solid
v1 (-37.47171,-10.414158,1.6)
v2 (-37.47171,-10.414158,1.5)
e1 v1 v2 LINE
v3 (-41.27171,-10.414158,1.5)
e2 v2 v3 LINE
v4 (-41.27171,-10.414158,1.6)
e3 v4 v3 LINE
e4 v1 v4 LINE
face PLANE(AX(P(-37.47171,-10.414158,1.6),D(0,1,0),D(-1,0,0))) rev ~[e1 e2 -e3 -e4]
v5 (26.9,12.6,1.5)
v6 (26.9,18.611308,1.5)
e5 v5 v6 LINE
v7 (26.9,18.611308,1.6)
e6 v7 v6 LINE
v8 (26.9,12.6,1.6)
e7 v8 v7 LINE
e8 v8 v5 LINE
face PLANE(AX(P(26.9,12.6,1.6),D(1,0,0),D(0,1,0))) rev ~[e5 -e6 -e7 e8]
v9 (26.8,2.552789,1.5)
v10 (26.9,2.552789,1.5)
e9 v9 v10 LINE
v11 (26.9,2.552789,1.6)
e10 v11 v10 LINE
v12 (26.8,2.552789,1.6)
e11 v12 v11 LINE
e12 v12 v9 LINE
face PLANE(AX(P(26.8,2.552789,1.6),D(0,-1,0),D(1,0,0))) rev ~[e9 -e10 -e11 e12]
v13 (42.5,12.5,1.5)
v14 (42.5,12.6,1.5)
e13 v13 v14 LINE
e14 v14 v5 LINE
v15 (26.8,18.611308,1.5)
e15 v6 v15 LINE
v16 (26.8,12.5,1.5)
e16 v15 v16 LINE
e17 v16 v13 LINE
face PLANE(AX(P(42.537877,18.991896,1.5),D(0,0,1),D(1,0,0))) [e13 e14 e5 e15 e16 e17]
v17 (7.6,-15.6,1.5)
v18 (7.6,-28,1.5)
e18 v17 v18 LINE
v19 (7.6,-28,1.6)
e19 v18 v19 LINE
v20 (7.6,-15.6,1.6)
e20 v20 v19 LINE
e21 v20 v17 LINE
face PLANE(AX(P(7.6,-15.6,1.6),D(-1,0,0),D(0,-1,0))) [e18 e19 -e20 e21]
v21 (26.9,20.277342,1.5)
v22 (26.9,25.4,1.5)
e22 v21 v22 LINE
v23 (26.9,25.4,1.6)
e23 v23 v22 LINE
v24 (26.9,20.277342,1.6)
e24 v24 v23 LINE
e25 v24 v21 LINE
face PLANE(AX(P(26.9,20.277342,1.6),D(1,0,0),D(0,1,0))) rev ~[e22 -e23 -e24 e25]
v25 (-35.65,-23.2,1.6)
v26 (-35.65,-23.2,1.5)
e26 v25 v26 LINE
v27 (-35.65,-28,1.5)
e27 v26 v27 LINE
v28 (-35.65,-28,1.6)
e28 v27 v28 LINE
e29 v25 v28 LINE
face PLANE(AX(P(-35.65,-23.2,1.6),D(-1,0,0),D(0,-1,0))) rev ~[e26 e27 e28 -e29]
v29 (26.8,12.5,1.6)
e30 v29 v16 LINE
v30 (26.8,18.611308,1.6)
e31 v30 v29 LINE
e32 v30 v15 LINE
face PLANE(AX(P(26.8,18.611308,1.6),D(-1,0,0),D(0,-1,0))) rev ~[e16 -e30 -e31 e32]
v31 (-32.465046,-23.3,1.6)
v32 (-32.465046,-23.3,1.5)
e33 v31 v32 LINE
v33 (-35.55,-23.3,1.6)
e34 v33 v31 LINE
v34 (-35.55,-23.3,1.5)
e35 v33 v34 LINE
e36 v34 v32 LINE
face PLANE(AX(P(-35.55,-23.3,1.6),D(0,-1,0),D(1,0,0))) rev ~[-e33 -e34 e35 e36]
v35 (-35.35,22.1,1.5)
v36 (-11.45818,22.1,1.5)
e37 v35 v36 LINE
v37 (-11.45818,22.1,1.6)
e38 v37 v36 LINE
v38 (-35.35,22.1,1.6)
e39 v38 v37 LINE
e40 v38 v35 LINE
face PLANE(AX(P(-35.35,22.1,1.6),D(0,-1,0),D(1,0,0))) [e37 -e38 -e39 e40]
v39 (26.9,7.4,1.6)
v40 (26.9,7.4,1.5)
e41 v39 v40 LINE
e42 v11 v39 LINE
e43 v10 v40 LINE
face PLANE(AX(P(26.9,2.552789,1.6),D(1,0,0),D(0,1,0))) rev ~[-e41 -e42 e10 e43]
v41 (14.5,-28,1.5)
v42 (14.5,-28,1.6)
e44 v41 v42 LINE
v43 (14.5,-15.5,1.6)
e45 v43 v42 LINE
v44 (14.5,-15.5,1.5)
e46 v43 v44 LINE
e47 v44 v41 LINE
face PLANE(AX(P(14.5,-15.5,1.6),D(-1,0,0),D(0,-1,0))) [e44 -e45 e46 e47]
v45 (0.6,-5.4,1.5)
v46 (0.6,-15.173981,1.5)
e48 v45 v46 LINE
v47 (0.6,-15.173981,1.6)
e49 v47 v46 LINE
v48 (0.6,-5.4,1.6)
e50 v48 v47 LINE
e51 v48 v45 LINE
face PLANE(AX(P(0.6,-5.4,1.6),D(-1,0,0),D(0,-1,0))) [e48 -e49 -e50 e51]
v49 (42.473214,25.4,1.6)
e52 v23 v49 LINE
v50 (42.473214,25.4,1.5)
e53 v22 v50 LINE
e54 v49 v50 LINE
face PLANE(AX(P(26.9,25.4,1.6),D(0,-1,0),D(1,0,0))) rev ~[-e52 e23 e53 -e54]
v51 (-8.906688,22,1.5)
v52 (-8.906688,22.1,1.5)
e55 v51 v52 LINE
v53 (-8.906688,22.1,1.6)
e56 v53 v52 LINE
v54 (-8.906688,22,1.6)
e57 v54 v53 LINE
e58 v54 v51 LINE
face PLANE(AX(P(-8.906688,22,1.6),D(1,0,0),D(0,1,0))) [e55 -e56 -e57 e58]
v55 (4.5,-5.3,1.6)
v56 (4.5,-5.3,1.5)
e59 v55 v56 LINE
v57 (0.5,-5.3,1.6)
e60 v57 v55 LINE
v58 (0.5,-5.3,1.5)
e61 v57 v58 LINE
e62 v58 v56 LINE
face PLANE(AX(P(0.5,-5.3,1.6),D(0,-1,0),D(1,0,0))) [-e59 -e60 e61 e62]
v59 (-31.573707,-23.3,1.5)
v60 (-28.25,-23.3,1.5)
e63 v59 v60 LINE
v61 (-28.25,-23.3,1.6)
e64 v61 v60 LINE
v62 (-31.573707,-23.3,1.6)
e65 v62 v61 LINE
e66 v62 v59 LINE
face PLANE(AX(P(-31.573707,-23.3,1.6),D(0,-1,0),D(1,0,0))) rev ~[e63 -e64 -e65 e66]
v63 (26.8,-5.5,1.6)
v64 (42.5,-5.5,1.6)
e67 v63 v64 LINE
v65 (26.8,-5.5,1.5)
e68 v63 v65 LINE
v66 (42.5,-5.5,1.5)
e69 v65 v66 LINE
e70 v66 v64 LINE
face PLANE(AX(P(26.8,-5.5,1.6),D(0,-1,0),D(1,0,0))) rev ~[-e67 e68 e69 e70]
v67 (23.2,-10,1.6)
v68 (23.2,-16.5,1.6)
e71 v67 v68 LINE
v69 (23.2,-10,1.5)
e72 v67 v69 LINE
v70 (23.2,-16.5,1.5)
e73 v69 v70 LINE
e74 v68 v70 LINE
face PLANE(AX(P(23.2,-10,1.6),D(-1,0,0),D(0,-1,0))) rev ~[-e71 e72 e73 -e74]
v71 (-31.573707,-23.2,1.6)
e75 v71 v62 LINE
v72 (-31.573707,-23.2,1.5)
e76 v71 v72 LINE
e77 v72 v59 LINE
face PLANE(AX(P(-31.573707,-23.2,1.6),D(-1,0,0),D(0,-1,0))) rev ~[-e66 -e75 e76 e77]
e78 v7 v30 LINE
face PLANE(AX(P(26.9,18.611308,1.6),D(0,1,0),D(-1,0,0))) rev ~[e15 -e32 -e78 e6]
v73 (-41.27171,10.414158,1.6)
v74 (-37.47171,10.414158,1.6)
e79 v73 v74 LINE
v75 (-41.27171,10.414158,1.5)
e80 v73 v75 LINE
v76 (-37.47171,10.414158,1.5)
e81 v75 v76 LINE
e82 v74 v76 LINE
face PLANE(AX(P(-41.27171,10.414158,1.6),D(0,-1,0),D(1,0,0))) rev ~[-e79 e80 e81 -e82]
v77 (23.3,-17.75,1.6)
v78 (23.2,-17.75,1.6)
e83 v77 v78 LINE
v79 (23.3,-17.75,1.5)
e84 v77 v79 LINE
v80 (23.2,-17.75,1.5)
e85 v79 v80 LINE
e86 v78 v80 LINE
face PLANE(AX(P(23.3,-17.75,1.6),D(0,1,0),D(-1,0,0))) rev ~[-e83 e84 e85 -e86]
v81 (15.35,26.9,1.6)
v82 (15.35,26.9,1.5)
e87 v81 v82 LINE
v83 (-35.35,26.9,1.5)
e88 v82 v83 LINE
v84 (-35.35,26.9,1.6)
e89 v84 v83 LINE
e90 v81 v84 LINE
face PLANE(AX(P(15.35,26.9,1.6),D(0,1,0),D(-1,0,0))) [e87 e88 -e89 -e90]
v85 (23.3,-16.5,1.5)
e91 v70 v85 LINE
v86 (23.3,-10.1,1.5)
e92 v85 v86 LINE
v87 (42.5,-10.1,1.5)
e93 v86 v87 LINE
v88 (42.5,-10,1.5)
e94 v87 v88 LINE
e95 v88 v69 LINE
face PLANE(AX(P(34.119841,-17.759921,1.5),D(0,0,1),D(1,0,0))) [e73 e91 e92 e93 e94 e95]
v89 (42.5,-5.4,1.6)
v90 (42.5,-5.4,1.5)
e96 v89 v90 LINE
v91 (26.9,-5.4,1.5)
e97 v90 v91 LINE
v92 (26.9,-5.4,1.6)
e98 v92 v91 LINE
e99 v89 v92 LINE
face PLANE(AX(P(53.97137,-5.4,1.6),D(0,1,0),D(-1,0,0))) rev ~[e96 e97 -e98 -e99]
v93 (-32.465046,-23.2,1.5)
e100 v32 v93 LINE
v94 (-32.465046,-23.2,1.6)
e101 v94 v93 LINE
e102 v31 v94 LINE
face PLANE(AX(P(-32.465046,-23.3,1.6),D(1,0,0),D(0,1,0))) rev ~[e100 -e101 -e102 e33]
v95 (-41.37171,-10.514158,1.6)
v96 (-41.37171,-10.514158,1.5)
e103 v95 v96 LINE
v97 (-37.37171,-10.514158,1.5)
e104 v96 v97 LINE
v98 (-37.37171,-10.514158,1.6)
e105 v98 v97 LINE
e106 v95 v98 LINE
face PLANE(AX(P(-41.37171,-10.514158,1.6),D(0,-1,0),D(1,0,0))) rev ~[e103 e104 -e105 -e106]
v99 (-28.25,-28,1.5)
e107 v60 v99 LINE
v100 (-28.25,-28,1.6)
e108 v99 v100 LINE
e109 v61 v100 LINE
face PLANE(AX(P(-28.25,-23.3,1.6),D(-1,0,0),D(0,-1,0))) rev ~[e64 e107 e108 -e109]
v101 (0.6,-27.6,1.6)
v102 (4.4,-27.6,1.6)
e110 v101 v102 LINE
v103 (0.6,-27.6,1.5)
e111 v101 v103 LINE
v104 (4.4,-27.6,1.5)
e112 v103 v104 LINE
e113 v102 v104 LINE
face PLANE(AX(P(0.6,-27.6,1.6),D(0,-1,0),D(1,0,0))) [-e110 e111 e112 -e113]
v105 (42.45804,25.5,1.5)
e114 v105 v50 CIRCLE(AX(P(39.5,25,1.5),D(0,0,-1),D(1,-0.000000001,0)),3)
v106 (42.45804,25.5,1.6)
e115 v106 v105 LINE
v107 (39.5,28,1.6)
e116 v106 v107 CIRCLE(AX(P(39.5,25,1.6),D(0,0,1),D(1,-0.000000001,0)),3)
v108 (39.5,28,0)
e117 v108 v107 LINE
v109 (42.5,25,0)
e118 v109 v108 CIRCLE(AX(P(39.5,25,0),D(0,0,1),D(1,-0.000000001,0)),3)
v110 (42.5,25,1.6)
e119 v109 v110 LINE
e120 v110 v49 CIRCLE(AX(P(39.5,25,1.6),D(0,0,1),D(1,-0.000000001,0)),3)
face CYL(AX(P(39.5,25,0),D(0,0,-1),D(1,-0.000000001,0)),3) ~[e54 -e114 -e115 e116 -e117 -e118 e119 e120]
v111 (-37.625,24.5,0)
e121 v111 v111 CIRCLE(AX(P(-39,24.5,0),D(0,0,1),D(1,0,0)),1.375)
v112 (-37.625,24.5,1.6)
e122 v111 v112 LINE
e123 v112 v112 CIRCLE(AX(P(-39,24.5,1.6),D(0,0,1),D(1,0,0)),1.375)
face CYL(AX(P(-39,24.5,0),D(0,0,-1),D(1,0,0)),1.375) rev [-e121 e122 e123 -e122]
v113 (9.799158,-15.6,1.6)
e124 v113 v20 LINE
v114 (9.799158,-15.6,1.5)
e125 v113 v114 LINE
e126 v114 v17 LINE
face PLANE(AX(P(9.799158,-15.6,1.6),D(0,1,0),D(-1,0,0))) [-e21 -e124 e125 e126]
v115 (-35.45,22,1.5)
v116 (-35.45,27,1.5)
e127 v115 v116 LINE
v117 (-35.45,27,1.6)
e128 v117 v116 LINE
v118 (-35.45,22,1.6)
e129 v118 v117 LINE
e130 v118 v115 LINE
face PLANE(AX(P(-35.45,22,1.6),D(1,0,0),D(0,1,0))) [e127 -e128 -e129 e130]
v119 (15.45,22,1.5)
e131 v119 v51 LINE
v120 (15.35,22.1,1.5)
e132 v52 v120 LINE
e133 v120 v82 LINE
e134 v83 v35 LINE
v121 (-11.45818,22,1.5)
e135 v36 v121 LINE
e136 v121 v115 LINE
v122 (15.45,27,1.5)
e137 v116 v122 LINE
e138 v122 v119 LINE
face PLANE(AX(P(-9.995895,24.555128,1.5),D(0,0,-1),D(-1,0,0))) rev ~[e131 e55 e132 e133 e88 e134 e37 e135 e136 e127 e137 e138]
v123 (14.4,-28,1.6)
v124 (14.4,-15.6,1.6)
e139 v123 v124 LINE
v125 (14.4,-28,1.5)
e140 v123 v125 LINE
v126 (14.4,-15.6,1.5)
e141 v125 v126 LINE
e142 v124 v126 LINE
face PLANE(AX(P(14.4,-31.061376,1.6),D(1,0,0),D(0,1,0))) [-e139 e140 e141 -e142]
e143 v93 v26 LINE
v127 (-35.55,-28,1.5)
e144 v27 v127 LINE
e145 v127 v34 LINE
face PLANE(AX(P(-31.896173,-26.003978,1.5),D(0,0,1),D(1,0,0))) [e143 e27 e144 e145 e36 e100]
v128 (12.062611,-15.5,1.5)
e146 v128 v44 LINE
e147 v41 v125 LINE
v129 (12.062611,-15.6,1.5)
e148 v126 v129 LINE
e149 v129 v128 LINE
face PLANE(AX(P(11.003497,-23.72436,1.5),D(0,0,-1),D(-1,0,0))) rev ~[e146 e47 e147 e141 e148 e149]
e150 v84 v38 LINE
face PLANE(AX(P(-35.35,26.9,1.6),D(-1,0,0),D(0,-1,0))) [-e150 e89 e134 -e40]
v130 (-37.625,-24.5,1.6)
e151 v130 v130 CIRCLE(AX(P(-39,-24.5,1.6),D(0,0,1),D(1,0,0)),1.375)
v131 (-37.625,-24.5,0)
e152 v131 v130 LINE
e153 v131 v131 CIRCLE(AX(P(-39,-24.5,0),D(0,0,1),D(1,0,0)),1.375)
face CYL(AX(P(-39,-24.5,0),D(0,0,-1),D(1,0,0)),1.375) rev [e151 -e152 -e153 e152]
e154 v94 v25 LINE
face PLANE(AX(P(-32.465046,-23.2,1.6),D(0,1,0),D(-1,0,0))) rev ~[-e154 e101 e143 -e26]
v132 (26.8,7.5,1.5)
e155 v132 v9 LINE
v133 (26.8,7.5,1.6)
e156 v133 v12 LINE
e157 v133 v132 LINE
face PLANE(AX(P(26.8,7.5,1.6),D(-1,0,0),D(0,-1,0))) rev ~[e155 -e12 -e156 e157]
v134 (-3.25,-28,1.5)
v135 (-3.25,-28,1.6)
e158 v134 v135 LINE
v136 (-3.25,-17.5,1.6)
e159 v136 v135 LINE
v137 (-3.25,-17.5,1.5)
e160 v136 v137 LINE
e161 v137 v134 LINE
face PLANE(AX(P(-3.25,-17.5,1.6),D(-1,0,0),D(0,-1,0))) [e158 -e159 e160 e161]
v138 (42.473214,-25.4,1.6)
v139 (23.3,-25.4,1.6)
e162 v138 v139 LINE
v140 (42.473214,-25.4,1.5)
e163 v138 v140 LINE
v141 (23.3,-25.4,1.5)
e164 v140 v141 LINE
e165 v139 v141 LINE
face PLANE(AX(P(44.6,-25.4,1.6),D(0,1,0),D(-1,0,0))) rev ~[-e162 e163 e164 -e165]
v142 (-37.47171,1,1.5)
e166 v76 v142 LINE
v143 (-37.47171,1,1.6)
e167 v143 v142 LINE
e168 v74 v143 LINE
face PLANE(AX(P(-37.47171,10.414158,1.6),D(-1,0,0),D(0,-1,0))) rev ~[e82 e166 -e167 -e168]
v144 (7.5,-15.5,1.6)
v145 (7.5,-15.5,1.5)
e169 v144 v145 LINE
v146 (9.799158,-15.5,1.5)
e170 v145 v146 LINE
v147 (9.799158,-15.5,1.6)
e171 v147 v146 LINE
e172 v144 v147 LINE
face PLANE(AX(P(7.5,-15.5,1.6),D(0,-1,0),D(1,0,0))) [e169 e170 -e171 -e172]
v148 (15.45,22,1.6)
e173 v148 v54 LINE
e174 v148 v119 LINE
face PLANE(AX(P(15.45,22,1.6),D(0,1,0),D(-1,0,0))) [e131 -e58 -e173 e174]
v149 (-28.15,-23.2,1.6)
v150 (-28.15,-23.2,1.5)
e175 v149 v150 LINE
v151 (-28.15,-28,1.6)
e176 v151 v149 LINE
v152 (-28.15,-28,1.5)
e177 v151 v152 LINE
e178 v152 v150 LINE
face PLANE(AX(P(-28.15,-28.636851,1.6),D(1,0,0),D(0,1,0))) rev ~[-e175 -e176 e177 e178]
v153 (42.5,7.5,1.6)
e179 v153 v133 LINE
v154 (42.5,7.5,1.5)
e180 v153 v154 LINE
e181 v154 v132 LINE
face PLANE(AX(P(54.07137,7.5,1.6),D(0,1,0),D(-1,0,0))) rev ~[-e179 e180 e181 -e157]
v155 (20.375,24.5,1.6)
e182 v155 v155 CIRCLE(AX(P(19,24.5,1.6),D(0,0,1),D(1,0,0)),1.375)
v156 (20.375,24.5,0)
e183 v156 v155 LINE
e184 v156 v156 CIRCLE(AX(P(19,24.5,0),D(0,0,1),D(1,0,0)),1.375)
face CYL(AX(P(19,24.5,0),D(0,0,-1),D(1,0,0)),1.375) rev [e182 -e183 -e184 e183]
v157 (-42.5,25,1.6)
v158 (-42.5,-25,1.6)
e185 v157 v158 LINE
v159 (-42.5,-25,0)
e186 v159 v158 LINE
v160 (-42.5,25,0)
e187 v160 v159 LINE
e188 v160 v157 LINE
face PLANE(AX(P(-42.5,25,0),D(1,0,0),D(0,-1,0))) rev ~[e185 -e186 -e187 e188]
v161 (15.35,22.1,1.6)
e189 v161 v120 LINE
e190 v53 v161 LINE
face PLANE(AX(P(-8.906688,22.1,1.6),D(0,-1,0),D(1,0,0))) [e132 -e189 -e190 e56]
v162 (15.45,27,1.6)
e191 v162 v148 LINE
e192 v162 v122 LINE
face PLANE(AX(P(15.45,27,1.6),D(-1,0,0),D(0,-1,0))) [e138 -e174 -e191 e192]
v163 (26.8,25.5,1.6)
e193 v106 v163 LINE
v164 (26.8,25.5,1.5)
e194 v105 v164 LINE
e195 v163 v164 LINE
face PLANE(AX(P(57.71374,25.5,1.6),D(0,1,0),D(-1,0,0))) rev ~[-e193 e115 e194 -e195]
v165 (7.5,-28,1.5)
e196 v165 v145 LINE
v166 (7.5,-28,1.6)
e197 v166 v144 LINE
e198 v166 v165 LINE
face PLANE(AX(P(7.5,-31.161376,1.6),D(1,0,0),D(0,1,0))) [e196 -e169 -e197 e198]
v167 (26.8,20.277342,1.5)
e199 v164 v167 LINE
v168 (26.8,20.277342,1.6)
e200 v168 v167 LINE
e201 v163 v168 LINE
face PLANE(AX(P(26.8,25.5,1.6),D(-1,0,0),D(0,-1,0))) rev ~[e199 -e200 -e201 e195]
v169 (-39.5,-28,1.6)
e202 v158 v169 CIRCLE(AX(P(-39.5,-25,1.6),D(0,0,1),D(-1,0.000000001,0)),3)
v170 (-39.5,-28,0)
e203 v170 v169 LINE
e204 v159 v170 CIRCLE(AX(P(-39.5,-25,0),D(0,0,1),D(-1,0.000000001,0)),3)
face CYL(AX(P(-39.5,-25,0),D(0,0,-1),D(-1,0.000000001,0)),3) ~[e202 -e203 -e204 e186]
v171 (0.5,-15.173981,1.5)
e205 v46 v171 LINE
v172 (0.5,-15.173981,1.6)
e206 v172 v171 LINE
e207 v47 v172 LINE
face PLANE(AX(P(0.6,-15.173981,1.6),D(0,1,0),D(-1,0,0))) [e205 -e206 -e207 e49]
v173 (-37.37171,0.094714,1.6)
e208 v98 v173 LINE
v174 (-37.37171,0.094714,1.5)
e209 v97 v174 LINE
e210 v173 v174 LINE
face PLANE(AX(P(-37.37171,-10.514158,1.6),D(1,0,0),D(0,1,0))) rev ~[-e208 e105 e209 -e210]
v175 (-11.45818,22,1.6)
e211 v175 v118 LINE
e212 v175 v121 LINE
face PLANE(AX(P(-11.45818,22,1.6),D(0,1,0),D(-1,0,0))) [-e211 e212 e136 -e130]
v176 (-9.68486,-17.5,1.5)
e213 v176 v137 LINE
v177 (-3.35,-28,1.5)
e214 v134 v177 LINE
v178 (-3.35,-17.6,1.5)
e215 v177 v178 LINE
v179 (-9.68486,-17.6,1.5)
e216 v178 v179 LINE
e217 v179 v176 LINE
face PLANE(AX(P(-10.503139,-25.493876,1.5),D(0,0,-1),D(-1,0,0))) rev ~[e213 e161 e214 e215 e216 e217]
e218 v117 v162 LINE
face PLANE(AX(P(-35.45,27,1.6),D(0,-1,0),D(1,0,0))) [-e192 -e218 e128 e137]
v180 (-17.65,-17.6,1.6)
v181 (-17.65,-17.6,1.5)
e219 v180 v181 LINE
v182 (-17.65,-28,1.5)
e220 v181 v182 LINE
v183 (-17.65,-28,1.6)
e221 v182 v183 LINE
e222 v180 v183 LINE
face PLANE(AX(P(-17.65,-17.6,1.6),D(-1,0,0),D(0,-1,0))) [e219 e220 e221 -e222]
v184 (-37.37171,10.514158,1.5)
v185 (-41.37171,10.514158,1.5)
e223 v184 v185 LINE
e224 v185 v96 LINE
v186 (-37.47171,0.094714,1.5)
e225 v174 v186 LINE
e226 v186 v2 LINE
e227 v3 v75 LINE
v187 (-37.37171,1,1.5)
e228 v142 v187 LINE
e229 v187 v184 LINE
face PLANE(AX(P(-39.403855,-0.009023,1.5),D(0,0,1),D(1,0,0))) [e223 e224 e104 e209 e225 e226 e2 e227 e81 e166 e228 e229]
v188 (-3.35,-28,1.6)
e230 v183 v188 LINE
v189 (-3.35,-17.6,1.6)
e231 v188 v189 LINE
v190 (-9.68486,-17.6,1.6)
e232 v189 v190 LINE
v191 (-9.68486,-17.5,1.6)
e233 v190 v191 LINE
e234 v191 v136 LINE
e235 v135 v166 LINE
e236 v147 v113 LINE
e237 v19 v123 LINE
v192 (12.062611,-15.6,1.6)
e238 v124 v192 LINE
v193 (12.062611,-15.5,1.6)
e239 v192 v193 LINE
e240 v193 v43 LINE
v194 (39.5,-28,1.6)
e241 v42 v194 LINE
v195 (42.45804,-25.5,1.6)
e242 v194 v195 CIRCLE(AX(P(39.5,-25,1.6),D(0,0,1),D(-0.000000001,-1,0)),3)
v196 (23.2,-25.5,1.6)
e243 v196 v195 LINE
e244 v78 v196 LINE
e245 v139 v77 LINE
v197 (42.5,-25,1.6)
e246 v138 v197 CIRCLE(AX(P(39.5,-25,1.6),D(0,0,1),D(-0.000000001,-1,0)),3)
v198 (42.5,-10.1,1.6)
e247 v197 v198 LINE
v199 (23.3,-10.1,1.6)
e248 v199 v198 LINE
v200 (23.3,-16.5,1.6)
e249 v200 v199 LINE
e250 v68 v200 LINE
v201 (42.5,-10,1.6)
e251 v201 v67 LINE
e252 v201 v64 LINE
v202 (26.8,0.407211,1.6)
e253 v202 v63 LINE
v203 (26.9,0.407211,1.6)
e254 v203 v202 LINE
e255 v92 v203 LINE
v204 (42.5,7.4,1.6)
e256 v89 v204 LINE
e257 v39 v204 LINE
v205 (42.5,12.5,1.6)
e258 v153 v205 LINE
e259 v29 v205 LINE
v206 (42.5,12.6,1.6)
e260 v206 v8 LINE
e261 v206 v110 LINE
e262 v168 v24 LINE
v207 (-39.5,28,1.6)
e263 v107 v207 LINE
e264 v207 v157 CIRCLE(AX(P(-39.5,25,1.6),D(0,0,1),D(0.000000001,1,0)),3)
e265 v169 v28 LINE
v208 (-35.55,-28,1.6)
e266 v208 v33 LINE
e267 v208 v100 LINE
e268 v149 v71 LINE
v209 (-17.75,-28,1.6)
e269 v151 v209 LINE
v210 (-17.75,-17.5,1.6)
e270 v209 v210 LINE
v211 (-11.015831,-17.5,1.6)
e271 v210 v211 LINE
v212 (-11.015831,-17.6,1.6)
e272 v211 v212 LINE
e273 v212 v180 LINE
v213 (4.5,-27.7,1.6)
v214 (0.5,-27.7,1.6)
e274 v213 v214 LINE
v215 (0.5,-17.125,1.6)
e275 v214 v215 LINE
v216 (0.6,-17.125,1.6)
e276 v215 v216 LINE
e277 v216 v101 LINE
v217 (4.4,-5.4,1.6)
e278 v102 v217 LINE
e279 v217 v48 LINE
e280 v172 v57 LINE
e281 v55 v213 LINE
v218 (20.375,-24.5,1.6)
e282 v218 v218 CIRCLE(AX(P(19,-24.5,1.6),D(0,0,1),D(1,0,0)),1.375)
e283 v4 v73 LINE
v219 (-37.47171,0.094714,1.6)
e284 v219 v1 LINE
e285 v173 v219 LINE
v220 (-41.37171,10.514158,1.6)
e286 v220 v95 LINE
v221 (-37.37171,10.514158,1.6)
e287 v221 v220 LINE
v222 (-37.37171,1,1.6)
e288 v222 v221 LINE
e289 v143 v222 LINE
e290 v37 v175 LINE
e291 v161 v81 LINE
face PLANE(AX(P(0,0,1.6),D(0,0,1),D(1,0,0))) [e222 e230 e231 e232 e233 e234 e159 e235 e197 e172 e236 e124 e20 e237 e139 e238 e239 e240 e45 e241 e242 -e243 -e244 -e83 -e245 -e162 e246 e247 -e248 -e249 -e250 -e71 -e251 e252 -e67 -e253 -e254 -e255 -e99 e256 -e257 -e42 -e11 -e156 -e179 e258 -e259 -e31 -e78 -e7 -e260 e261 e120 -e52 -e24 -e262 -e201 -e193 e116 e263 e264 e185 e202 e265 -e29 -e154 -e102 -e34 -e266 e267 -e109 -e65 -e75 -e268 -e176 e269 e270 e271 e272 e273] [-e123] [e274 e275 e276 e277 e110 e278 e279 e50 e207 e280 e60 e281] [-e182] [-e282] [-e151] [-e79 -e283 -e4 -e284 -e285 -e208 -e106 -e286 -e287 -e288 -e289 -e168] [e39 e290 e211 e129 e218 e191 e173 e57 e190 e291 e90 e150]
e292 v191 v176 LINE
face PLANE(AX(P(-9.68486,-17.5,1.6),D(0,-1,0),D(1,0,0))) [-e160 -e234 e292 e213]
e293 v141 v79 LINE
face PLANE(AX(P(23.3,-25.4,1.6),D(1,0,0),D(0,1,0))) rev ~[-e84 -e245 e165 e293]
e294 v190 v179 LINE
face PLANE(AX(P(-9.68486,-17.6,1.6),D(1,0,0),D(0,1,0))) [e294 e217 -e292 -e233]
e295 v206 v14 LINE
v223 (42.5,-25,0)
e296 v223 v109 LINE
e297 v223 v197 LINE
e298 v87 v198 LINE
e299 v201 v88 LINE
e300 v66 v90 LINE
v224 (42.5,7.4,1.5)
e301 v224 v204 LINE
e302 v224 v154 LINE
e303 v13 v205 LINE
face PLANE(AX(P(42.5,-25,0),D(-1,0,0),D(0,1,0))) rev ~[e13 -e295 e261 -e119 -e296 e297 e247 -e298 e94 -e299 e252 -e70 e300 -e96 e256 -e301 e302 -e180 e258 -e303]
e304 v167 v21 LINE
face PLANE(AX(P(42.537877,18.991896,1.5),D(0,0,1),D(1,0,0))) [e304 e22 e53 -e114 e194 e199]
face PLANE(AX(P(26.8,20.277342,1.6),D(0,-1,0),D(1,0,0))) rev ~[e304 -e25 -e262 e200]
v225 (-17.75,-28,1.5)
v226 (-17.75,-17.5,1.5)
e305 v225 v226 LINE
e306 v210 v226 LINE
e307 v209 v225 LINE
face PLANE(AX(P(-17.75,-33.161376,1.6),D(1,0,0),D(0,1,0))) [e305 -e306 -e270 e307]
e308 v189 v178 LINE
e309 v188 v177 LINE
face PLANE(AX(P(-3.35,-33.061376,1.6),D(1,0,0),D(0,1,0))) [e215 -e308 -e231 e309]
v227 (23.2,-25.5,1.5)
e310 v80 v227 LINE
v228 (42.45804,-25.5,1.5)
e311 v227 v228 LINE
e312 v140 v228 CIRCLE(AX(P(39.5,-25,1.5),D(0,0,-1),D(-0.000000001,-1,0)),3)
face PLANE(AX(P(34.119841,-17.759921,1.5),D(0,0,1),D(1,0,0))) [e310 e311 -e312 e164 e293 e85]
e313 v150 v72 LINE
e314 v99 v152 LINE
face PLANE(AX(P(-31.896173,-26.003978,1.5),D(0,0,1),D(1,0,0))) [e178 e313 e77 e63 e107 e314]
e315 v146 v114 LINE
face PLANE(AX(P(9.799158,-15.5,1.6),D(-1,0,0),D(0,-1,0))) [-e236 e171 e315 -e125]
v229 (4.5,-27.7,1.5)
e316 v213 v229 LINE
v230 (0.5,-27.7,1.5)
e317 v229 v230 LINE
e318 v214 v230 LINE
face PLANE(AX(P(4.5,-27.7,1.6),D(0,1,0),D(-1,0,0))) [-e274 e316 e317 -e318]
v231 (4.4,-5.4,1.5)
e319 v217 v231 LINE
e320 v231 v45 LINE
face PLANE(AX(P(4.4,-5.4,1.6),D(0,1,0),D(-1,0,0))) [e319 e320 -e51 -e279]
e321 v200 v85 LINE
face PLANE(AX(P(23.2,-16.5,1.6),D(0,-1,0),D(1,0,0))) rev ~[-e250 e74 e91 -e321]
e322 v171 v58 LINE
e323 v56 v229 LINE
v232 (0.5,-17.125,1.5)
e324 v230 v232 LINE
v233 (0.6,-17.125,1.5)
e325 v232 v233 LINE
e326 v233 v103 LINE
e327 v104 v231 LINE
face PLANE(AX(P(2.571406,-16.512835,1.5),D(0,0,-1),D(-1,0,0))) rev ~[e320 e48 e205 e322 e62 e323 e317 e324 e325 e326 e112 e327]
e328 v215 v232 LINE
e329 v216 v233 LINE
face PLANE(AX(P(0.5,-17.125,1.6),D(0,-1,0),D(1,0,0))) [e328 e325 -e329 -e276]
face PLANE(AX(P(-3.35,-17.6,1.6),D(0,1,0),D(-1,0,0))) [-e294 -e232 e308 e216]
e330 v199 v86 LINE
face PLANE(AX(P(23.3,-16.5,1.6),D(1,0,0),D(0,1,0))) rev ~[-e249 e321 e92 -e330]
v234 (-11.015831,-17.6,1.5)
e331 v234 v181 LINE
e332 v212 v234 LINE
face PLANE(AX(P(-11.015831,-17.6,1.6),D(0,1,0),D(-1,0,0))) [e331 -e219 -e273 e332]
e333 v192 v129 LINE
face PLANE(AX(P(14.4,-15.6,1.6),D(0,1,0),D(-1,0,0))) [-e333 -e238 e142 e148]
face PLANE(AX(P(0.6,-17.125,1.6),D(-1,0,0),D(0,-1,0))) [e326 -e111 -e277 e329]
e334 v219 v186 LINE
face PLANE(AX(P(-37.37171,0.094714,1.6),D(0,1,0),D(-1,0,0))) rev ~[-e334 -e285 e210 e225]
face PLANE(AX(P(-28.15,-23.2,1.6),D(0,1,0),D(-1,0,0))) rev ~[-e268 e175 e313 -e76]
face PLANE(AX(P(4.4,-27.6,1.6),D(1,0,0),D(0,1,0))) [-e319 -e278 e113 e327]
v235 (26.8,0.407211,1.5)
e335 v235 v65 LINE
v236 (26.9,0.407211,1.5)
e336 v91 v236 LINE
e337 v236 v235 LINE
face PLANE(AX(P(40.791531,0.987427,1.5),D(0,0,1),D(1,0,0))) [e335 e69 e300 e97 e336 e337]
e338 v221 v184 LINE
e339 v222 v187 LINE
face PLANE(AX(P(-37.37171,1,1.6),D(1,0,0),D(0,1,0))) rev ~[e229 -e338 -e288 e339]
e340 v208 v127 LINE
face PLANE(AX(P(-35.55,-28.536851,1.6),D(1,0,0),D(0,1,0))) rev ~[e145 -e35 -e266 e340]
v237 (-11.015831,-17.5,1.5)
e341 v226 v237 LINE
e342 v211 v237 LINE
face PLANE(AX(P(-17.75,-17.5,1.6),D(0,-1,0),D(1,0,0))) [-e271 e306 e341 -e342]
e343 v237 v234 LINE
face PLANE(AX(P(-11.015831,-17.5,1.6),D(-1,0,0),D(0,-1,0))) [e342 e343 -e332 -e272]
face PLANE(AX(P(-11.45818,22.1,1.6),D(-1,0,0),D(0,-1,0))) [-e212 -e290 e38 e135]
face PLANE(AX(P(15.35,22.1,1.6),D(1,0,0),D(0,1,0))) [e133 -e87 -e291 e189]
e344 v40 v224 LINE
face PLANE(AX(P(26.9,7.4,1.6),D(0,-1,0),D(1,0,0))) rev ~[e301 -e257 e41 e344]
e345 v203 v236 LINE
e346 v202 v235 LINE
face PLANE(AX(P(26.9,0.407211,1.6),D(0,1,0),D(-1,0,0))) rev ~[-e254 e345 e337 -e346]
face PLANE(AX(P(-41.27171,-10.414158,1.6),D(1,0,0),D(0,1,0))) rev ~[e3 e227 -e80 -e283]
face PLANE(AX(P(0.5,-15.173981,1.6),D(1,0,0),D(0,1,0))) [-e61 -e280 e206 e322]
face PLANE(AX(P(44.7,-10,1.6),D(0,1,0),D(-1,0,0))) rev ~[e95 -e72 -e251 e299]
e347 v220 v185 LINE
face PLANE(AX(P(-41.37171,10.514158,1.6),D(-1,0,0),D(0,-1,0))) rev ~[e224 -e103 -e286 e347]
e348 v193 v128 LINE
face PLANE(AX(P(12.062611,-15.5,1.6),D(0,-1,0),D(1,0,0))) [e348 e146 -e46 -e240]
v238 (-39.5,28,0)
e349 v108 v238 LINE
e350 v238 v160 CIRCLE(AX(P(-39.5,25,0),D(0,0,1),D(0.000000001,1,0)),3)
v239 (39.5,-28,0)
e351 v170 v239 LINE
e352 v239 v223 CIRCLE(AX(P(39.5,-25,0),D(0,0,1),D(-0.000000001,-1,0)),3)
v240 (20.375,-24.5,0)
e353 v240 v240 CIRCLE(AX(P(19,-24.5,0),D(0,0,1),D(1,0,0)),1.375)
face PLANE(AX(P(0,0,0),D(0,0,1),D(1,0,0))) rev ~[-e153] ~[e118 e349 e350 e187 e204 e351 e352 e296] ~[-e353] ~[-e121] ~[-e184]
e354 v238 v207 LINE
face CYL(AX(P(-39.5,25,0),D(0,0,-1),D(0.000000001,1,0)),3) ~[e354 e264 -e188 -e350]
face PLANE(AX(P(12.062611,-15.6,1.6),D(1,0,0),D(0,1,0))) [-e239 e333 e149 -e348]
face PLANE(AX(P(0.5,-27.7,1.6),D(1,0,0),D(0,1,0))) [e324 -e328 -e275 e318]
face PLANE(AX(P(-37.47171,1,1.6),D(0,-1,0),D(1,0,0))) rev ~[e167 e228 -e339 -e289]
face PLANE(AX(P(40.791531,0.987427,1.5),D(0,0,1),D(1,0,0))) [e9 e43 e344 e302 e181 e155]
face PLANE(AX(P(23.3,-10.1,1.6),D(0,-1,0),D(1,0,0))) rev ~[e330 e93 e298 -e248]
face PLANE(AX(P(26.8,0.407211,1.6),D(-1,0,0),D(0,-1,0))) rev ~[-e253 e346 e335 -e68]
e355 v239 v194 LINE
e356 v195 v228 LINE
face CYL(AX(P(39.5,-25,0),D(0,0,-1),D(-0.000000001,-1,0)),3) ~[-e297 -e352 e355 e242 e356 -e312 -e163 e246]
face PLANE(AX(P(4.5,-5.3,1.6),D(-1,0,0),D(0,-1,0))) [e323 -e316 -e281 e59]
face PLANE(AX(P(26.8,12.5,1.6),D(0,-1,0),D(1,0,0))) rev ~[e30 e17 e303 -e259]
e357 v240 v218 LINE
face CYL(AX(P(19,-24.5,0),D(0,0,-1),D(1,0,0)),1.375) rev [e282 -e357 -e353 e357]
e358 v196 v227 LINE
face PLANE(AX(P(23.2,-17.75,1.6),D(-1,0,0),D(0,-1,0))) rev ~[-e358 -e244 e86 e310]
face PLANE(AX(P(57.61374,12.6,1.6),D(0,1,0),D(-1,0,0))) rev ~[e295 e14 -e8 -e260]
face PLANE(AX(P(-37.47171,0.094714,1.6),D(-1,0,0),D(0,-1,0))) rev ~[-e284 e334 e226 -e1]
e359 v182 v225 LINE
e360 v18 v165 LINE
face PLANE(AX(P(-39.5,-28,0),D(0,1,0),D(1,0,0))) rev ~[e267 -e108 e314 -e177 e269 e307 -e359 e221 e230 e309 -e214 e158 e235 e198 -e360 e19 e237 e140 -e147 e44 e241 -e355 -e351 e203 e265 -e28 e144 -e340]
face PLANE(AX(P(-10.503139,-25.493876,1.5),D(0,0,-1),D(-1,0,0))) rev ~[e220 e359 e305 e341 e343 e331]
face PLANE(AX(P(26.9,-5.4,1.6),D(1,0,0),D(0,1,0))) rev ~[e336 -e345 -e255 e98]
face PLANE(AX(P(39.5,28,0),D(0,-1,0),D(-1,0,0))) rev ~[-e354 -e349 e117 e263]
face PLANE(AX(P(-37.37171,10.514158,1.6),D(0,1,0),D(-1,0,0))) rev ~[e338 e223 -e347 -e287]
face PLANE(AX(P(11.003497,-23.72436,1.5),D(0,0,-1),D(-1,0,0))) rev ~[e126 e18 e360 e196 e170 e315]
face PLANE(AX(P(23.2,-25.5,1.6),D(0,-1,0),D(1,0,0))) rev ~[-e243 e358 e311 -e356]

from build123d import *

# Parameters (mm, degrees)
SKETCH1_R           = 1.375
BOSS_EXTRUDE1_DEPTH = 1.6
CUT_EXTRUDE1_DEPTH  = 0.1


with BuildPart() as part:
    # Sketch1 → Boss-Extrude1 (new body)
    with BuildSketch(Plane.XY):
        with BuildLine():
            Line((-39.5, -28), (39.5, -28))
            ThreePointArc((39.5, -28), (41.621320344, -27.121320344), (42.5, -25))
            Line((42.5, -25), (42.5, 25))
            ThreePointArc((42.5, 25), (41.621320344, 27.121320344), (39.5, 28))
            Line((39.5, 28), (-39.5, 28))
            ThreePointArc((-39.5, 28), (-41.621320344, 27.121320344), (-42.5, 25))
            Line((-42.5, 25), (-42.5, -25))
            ThreePointArc((-42.5, -25), (-41.621320344, -27.121320344), (-39.5, -28))
        make_face()
        with Locations((-39, 24.5)):
            Circle(SKETCH1_R, mode=Mode.SUBTRACT)
        with Locations((-39, -24.5)):
            Circle(SKETCH1_R, mode=Mode.SUBTRACT)
        with Locations((19, 24.5)):
            Circle(SKETCH1_R, mode=Mode.SUBTRACT)
        with Locations((19, -24.5)):
            Circle(SKETCH1_R, mode=Mode.SUBTRACT)
    extrude(amount=BOSS_EXTRUDE1_DEPTH)

    # Sketch2 → Cut-Extrude1 (cut)
    with BuildSketch(Plane.XY.offset(1.6)):
        Polygon((-35.65, -28.636850855), (-28.15, -28.636850855), (-28.15, -23.2), (-31.573707352, -23.2), (-31.573707352, -23.3), (-28.25, -23.3), (-28.25, -28.536850855), (-35.55, -28.536850855), (-35.55, -23.3), (-32.465045999, -23.3), (-32.465045999, -23.2), (-35.65, -23.2), align=None)
        Polygon((-17.75, -17.5), (-11.015830732, -17.5), (-11.015830732, -17.6), (-17.65, -17.6), (-17.65, -33.061376344), (-3.35, -33.061376344), (-3.35, -17.6), (-9.684859924, -17.6), (-9.684859924, -17.5), (-3.25, -17.5), (-3.25, -33.161376344), (-17.75, -33.161376344), align=None)
        Polygon((0.5, -5.3), (4.5, -5.3), (4.5, -27.7), (0.5, -27.7), (0.5, -17.125), (0.6, -17.125), (0.6, -27.6), (4.4, -27.6), (4.4, -5.4), (0.6, -5.4), (0.6, -15.17398131), (0.5, -15.17398131), align=None)
        Polygon((7.5, -15.5), (9.799158316, -15.5), (9.799158316, -15.6), (7.6, -15.6), (7.6, -31.061376344), (14.4, -31.061376344), (14.4, -15.6), (12.062610562, -15.6), (12.062610562, -15.5), (14.5, -15.5), (14.5, -31.161376344), (7.5, -31.161376344), align=None)
        Polygon((-35.45, 27), (15.45, 27), (15.45, 22), (-8.906687942, 22), (-8.906687942, 22.1), (15.35, 22.1), (15.35, 26.9), (-35.35, 26.9), (-35.35, 22.1), (-11.458179647, 22.1), (-11.458179647, 22), (-35.45, 22), align=None)
        Polygon((-41.371710411, -10.514157593), (-37.371710411, -10.514157593), (-37.371710411, 0.094714316), (-37.471710411, 0.094714316), (-37.471710411, -10.414157593), (-41.271710411, -10.414157593), (-41.271710411, 10.414157593), (-37.471710411, 10.414157593), (-37.471710411, 1), (-37.371710411, 1), (-37.371710411, 10.514157593), (-41.371710411, 10.514157593), align=None)
        Polygon((23.2, -25.5), (44.7, -25.5), (44.7, -10), (23.2, -10), (23.2, -16.5), (23.3, -16.5), (23.3, -10.1), (44.6, -10.1), (44.6, -25.4), (23.3, -25.4), (23.3, -17.75), (23.2, -17.75), align=None)
        Polygon((26.8, -5.5), (54.071370237, -5.5), (54.071370237, 7.5), (26.8, 7.5), (26.8, 2.552788505), (26.9, 2.552788505), (26.9, 7.4), (53.971370237, 7.4), (53.971370237, -5.4), (26.9, -5.4), (26.9, 0.407211154), (26.8, 0.407211154), align=None)
        Polygon((26.8, 12.5), (57.71374017, 12.5), (57.71374017, 25.5), (26.8, 25.5), (26.8, 20.277341759), (26.9, 20.277341759), (26.9, 25.4), (57.61374017, 25.4), (57.61374017, 12.6), (26.9, 12.6), (26.9, 18.611308355), (26.8, 18.611308355), align=None)
    extrude(amount=-CUT_EXTRUDE1_DEPTH, mode=Mode.SUBTRACT)


solid = part.part
